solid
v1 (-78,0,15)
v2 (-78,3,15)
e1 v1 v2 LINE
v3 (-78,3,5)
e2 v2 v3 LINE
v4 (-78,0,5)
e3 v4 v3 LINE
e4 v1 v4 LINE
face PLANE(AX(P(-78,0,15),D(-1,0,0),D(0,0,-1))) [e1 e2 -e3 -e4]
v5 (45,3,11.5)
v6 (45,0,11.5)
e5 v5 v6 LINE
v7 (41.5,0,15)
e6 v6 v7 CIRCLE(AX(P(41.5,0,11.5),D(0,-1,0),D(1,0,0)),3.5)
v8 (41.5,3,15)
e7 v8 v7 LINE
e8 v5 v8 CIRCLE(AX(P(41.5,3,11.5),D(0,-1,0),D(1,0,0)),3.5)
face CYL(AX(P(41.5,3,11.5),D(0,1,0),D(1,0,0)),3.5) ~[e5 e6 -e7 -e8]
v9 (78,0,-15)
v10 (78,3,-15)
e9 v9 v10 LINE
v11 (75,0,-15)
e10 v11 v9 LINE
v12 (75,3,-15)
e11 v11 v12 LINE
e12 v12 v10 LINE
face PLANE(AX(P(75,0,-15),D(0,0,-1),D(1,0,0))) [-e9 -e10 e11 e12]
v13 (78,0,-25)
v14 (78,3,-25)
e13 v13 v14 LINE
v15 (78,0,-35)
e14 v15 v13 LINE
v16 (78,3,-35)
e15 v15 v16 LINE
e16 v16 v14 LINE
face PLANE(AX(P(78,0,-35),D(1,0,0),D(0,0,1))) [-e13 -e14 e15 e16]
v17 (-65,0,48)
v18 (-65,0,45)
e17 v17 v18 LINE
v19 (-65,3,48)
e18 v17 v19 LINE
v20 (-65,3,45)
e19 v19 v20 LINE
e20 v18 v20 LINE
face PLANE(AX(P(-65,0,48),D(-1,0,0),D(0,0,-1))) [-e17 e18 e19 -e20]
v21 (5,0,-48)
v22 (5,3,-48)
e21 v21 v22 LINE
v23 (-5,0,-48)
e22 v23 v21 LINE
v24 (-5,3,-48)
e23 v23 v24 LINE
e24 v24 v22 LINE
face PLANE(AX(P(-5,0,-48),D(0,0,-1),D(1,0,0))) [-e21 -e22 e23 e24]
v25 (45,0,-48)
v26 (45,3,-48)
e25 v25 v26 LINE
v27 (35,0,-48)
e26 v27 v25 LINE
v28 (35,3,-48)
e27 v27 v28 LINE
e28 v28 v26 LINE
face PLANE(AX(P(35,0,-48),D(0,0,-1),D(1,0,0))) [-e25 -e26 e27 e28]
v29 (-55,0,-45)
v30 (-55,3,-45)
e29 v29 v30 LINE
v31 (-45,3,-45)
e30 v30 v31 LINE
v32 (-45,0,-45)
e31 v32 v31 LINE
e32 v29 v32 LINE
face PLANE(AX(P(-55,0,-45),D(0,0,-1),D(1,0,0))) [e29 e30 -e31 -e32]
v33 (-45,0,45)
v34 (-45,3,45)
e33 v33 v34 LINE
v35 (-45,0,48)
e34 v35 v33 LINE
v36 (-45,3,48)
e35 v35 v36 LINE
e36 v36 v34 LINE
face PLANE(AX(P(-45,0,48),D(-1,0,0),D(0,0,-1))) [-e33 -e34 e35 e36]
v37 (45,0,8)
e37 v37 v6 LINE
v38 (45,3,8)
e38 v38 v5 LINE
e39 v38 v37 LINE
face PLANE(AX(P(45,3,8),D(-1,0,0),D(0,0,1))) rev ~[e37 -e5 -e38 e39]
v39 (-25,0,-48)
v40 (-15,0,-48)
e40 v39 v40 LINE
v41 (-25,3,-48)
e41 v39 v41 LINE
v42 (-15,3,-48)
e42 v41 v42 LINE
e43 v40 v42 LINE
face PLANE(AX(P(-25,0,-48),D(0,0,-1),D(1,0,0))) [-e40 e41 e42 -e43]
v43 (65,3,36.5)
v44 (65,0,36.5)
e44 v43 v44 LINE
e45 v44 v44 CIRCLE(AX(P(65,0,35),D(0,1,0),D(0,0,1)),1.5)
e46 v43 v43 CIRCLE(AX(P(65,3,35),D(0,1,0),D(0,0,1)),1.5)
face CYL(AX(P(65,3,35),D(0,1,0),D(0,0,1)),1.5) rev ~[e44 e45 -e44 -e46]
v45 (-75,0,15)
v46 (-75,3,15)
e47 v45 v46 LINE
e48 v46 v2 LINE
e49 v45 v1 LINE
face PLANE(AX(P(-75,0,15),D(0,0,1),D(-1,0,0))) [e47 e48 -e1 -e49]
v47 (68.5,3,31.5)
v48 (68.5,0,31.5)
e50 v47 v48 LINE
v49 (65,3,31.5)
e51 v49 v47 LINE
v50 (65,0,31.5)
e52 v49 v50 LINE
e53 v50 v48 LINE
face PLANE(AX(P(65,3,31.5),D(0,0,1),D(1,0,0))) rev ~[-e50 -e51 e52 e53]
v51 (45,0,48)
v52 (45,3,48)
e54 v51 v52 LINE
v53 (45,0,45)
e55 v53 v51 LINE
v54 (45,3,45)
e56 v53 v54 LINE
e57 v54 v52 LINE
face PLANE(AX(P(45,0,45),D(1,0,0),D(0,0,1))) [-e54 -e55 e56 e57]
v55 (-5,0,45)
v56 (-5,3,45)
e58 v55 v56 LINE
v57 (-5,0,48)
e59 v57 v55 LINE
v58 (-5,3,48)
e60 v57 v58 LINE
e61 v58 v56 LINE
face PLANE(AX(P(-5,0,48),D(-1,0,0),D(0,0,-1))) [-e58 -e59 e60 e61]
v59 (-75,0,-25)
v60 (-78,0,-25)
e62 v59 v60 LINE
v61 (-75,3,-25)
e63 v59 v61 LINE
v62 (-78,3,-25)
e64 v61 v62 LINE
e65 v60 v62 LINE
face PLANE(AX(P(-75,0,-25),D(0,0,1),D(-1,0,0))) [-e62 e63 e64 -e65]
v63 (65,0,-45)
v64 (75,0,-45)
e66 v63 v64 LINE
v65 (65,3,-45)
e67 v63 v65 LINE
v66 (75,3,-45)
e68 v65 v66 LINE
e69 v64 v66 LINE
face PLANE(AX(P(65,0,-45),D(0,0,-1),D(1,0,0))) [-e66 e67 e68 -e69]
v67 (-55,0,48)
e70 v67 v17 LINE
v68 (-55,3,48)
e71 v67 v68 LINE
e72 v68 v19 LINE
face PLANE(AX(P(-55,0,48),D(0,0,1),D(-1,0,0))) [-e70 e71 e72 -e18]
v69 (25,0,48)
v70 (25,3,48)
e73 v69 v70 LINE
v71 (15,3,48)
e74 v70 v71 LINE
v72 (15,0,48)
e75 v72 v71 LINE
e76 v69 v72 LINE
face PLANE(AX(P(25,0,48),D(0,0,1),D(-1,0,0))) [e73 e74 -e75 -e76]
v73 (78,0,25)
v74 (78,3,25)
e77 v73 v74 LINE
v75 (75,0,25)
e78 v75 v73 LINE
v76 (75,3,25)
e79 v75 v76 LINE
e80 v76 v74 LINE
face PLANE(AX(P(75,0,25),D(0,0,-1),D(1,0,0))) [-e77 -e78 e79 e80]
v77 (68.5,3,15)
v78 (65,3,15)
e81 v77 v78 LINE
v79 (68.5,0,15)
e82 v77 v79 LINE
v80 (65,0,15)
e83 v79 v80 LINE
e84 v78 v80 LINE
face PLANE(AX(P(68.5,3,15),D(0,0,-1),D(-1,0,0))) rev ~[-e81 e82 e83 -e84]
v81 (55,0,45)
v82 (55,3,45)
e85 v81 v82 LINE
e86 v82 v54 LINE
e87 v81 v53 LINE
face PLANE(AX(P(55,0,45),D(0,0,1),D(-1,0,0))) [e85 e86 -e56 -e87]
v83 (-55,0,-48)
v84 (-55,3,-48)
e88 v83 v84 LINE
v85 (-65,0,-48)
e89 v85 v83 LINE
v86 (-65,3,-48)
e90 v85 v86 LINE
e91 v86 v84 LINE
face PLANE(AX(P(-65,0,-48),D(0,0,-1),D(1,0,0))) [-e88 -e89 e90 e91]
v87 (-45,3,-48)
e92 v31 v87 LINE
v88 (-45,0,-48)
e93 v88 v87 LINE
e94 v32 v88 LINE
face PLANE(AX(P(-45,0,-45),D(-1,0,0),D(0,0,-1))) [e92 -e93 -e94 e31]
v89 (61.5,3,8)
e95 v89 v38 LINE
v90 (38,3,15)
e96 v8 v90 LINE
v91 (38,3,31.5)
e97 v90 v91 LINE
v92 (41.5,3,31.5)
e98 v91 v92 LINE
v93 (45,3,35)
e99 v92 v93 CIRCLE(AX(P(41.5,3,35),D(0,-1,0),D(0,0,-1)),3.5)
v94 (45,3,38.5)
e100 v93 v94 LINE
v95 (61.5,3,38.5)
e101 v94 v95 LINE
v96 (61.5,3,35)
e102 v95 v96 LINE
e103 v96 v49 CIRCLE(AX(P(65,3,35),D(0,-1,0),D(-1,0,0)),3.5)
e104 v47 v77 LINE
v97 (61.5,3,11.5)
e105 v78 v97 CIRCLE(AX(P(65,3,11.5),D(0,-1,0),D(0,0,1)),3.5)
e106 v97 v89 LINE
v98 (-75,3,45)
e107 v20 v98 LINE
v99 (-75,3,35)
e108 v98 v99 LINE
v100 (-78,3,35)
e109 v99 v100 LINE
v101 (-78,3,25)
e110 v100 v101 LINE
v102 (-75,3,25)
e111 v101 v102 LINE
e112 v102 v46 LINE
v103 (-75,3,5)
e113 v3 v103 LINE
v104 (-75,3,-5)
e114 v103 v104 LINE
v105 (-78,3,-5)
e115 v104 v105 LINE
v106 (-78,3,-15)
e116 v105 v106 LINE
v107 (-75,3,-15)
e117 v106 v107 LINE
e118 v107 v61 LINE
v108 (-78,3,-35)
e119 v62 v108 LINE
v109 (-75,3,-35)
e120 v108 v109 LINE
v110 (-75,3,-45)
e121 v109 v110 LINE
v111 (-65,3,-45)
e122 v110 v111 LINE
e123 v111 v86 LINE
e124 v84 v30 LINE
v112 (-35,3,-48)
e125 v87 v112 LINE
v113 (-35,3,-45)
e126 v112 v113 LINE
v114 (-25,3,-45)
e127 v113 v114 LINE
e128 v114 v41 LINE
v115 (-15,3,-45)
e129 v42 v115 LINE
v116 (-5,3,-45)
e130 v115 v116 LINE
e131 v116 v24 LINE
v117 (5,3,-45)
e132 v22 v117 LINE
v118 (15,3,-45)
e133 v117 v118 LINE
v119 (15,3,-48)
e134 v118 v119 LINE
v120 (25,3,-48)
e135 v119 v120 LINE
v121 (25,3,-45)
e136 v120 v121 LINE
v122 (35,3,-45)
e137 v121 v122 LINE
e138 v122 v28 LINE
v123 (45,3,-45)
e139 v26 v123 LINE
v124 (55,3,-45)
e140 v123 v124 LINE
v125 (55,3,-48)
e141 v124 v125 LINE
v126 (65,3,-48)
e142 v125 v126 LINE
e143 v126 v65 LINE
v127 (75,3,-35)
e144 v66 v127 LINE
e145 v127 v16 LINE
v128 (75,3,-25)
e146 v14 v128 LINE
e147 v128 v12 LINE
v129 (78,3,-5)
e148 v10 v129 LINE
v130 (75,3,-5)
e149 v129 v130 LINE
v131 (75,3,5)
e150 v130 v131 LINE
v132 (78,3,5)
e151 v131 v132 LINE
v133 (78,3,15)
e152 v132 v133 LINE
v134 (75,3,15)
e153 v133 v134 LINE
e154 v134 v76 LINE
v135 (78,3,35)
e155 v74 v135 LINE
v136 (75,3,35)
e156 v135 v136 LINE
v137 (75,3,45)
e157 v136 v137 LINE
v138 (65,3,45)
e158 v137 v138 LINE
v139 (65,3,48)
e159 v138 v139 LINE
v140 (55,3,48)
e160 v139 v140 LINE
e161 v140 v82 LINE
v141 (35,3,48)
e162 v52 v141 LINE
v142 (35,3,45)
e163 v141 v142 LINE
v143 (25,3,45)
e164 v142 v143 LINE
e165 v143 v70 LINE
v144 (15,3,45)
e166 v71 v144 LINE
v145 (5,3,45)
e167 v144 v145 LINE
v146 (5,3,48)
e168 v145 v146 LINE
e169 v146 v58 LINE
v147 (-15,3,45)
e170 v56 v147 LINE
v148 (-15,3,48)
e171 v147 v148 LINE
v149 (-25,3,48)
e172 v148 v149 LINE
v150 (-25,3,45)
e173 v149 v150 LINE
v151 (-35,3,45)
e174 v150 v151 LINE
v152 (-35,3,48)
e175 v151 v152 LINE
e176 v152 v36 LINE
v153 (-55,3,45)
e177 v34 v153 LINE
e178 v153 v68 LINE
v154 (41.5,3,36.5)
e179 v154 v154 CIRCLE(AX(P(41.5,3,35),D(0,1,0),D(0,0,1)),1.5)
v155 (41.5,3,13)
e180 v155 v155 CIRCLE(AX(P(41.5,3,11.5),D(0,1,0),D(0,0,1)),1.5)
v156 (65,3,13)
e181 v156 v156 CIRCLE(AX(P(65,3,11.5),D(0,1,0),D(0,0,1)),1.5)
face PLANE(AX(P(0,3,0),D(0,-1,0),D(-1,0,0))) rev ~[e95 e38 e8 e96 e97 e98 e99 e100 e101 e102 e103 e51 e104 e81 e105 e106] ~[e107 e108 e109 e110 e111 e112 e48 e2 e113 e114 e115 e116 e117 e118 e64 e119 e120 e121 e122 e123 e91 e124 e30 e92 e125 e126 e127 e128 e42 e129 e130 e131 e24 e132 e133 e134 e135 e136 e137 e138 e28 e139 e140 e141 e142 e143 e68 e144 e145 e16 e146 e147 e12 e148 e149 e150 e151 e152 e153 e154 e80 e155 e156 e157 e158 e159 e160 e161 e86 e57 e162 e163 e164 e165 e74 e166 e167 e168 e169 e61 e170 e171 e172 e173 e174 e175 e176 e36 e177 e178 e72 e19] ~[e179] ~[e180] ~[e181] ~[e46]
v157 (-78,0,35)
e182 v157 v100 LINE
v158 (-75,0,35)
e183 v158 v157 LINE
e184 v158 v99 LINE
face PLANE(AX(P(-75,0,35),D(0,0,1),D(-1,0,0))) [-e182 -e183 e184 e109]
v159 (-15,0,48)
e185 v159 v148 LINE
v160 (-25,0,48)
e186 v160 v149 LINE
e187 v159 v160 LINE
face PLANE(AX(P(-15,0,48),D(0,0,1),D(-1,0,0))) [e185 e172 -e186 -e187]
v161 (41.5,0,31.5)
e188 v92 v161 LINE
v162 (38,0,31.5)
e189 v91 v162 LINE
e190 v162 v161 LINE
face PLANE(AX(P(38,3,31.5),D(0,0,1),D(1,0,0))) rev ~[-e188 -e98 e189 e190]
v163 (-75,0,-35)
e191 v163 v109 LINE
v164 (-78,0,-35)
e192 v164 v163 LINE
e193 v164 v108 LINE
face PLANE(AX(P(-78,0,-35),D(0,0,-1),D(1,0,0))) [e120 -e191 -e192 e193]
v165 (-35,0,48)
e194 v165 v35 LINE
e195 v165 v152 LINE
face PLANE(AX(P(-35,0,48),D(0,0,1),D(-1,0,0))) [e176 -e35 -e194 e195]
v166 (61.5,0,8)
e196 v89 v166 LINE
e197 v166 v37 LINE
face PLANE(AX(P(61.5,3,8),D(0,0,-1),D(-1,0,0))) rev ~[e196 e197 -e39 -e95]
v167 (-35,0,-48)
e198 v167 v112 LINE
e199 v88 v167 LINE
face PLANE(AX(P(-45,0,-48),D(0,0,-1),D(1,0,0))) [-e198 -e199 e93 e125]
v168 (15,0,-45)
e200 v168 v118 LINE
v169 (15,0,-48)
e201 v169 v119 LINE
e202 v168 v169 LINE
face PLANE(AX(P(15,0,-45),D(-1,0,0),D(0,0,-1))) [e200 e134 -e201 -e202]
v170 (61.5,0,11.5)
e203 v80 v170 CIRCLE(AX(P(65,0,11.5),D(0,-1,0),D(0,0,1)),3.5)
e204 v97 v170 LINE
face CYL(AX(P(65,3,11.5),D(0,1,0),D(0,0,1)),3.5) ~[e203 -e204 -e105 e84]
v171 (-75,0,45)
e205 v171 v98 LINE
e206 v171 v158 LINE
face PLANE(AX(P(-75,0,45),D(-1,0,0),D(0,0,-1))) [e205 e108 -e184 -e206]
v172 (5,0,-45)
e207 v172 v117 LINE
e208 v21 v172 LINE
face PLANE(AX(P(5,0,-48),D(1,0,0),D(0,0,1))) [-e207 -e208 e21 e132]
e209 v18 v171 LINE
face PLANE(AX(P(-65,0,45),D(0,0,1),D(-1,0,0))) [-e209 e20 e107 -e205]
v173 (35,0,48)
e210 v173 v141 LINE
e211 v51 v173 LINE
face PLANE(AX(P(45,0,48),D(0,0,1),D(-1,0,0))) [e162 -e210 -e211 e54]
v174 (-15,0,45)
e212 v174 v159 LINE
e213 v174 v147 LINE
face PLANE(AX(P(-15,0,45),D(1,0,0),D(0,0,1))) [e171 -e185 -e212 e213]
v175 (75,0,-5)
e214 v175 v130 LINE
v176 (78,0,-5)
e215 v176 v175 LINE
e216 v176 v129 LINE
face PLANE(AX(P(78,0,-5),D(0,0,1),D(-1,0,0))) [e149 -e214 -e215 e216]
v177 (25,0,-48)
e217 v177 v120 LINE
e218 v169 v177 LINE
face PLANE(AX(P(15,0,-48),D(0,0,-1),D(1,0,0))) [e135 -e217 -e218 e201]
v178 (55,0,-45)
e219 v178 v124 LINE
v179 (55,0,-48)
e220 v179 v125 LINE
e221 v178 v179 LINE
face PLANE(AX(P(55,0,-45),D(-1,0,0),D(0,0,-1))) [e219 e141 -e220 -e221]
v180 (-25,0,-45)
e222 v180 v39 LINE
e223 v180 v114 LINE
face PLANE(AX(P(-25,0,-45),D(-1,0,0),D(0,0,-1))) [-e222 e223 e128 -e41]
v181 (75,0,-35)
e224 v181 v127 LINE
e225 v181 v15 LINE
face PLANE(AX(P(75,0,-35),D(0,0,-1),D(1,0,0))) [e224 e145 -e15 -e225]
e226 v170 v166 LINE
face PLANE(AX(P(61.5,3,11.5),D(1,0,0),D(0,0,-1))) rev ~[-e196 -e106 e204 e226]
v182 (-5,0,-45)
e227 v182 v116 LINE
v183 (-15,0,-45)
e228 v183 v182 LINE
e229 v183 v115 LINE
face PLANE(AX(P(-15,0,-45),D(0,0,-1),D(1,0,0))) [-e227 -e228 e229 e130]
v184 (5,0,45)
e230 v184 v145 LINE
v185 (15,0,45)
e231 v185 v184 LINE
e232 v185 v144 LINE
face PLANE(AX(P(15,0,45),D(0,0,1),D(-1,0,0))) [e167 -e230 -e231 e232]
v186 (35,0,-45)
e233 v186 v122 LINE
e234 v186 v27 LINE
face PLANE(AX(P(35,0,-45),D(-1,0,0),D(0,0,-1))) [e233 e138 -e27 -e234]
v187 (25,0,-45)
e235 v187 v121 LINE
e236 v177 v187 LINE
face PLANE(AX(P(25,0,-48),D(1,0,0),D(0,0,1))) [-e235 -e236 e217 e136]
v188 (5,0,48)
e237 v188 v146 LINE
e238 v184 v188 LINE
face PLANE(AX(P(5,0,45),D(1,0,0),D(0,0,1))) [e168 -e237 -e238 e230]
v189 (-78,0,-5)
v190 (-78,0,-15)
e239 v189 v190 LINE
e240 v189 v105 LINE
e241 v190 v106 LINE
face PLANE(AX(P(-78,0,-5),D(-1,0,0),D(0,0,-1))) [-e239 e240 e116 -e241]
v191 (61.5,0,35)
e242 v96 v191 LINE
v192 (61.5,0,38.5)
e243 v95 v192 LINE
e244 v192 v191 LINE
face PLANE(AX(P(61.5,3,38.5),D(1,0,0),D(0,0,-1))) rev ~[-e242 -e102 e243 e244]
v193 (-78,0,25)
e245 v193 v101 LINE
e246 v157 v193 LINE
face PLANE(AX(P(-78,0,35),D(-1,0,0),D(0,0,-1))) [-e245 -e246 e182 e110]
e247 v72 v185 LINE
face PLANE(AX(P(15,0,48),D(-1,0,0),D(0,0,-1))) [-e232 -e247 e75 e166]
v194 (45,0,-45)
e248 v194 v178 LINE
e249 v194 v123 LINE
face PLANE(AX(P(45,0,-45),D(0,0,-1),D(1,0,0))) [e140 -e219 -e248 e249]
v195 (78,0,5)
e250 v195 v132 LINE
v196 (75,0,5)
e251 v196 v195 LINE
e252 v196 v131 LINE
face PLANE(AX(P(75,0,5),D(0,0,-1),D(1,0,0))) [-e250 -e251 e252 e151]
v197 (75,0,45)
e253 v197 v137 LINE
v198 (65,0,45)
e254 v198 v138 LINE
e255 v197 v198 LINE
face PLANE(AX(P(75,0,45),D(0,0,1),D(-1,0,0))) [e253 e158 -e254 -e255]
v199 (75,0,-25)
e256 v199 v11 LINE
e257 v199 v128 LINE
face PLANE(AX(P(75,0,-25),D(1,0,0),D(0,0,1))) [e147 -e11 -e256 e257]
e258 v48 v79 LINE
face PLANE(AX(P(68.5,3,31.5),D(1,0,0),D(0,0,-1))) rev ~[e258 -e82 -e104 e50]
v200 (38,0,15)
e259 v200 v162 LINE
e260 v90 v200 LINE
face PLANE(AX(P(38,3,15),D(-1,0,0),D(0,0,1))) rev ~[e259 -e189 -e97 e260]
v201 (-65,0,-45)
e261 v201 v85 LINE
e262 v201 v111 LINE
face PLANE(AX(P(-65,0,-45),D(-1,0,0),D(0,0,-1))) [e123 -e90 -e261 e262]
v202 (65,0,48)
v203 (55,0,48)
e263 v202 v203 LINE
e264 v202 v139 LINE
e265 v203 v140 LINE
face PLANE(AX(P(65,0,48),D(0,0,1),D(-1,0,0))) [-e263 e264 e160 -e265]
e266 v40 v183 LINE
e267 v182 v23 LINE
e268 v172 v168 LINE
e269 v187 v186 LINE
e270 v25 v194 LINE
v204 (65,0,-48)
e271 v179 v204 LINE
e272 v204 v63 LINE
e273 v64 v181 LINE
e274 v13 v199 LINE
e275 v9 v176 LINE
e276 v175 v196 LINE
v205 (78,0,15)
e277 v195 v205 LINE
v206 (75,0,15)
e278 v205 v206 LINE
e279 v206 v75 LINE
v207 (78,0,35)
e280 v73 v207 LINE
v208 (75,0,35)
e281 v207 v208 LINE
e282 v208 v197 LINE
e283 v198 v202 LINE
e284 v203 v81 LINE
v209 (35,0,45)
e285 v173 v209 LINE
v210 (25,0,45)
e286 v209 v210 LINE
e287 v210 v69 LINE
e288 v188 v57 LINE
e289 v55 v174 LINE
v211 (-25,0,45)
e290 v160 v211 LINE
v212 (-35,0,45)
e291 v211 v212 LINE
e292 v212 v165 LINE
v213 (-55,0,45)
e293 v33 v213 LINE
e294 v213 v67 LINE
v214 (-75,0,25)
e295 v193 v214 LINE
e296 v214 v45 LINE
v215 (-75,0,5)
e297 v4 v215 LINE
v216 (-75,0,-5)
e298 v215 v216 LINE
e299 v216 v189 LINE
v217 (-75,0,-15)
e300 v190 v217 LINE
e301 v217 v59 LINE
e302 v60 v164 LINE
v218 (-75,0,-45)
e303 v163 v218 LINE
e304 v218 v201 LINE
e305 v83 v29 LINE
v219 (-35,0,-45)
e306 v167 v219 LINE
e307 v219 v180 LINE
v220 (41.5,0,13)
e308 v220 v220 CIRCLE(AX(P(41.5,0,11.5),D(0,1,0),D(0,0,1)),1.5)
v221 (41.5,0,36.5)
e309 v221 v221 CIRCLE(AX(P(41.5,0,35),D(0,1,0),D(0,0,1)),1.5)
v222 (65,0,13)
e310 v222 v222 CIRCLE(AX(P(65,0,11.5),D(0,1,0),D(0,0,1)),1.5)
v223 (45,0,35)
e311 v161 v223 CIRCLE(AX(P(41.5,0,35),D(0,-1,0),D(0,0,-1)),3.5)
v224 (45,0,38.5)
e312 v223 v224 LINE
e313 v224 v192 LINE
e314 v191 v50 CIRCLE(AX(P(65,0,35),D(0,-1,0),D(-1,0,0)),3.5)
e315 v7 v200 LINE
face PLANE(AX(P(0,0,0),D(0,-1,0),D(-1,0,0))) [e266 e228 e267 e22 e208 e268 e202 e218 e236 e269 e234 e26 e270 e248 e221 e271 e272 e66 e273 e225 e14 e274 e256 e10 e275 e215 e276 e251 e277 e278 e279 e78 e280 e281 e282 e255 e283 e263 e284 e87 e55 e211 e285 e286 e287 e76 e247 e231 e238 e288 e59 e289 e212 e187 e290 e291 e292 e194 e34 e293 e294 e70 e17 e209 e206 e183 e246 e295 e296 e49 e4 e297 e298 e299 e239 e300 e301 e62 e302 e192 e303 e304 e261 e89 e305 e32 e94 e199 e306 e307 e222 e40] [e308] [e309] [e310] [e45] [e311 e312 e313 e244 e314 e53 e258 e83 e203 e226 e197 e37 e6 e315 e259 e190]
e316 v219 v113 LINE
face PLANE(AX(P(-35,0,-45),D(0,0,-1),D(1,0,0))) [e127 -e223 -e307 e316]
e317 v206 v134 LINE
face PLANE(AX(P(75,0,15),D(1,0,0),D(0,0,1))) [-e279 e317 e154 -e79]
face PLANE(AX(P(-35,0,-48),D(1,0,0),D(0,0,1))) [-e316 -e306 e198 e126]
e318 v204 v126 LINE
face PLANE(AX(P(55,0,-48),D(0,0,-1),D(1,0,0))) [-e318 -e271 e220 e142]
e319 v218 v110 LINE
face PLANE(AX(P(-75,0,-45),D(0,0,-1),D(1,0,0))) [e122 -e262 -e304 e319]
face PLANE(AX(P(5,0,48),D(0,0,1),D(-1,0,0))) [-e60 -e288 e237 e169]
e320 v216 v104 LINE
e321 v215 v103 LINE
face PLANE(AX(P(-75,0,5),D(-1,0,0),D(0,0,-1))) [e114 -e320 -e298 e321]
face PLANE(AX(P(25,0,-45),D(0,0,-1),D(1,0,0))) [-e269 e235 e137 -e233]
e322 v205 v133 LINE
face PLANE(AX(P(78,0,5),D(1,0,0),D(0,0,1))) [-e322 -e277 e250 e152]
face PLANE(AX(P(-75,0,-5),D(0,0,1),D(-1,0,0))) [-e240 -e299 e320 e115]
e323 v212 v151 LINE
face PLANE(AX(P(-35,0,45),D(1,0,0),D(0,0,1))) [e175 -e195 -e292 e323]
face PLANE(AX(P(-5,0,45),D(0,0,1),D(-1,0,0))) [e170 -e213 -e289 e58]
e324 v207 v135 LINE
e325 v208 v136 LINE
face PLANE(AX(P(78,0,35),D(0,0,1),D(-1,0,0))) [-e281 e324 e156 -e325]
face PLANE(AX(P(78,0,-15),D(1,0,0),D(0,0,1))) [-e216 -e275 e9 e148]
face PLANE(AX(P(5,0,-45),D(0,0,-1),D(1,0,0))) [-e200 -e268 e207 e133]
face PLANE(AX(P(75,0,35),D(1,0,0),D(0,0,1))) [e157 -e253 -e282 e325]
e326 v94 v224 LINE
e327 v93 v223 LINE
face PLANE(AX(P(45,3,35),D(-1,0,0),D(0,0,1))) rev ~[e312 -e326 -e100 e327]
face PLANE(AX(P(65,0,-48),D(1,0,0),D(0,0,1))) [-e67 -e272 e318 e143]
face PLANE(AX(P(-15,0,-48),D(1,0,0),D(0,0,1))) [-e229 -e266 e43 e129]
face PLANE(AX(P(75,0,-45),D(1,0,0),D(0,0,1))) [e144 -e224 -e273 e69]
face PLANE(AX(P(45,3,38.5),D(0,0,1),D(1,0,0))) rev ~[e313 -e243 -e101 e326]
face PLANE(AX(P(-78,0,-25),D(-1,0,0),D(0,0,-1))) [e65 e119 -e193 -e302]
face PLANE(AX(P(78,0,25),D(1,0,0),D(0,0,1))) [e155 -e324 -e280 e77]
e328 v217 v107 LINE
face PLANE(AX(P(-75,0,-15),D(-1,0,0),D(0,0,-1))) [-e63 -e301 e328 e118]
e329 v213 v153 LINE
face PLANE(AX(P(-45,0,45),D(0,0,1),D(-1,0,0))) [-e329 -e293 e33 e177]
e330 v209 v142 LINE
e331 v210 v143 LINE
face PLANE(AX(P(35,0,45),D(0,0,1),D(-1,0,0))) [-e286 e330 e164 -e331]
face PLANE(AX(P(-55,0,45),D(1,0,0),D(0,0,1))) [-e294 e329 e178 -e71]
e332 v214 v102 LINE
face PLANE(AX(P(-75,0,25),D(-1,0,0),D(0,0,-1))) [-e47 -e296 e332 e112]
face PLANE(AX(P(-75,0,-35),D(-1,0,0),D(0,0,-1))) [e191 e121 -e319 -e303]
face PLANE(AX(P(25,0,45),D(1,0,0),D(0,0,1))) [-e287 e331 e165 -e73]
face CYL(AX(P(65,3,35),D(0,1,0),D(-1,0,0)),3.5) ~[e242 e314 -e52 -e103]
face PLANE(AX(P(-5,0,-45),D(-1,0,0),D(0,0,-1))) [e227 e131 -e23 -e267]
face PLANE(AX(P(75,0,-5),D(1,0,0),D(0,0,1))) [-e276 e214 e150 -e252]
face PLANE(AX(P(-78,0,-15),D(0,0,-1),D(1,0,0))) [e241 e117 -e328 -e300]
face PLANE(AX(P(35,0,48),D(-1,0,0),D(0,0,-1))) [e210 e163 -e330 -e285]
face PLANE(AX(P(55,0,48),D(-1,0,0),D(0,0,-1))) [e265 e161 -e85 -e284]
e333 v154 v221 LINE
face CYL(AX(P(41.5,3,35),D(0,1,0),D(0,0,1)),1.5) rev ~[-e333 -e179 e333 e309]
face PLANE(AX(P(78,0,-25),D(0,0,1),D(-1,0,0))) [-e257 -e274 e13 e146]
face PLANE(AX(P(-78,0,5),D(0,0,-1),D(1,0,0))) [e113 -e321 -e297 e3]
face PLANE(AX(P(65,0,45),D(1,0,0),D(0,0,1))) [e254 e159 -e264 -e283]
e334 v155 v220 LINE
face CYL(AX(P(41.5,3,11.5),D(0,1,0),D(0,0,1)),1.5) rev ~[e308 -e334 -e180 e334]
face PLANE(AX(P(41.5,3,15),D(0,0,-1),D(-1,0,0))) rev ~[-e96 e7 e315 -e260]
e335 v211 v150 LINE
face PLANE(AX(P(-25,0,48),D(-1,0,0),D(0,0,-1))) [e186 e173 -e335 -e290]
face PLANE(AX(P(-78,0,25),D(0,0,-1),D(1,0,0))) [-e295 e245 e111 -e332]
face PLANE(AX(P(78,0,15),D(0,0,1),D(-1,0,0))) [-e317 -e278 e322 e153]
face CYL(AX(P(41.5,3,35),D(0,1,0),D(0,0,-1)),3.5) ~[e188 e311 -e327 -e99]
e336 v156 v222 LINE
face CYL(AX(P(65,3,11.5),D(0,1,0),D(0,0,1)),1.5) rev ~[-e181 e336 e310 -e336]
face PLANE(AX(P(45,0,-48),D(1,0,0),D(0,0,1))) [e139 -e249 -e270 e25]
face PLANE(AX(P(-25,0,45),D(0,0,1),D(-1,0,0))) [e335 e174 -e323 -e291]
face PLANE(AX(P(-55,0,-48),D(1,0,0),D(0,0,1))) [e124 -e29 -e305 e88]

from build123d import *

# Parameters (mm, degrees)
BOSS_EXTRUDE1_DEPTH = 3
SKETCH3_R           = 1.5
CUT_EXTRUDE2_DEPTH  = 3
CUT_EXTRUDE3_DEPTH  = 3


with BuildPart() as part:
    # Sketch1 → Boss-Extrude1 (new body)
    with BuildSketch(Plane(origin=(0, 0, 0), x_dir=(1, 0, 0), z_dir=(0, 1, 0))):
        Polygon((-5, 48), (5, 48), (5, 45), (15, 45), (15, 48), (25, 48), (25, 45), (35, 45), (35, 48), (45, 48), (45, 45), (55, 45), (55, 48), (65, 48), (65, 45), (75, 45), (75, 35), (78, 35), (78, 25), (75, 25), (75, 15), (78, 15), (78, 5), (75, 5), (75, -5), (78, -5), (78, -15), (75, -15), (75, -25), (78, -25), (78, -35), (75, -35), (75, -45), (65, -45), (65, -48), (55, -48), (55, -45), (45, -45), (45, -48), (35, -48), (35, -45), (25, -45), (25, -48), (15, -48), (15, -45), (5, -45), (5, -48), (-5, -48), (-5, -45), (-15, -45), (-15, -48), (-25, -48), (-25, -45), (-35, -45), (-35, -48), (-45, -48), (-45, -45), (-55, -45), (-55, -48), (-65, -48), (-65, -45), (-75, -45), (-75, -35), (-78, -35), (-78, -25), (-75, -25), (-75, -15), (-78, -15), (-78, -5), (-75, -5), (-75, 5), (-78, 5), (-78, 15), (-75, 15), (-75, 25), (-78, 25), (-78, 35), (-75, 35), (-75, 45), (-65, 45), (-65, 48), (-55, 48), (-55, 45), (-45, 45), (-45, 48), (-35, 48), (-35, 45), (-25, 45), (-25, 48), (-15, 48), (-15, 45), (-5, 45), align=None)
    extrude(amount=BOSS_EXTRUDE1_DEPTH)

    # Sketch3 → Cut-Extrude2 (cut)
    with BuildSketch(Plane(origin=(0, 3, 0), x_dir=(1, 0, 0), z_dir=(0, 1, 0))):
        with Locations(Location((41.5, -11.5, 0), (0, 0, 270))):
            Circle(SKETCH3_R)
        with Locations(Location((65, -11.5, 0), (0, 0, 270))):
            Circle(SKETCH3_R)
        with Locations(Location((65, -35, 0), (0, 0, 270))):
            Circle(SKETCH3_R)
        with Locations(Location((41.5, -35, 0), (0, 0, 270))):
            Circle(SKETCH3_R)
    extrude(amount=-CUT_EXTRUDE2_DEPTH, mode=Mode.SUBTRACT)

    # Sketch4 → Cut-Extrude3 (cut)
    with BuildSketch(Plane(origin=(0, 3, 0), x_dir=(1, 0, 0), z_dir=(0, 1, 0))):
        with BuildLine():
            Line((45, -35), (45, -38.5))
            Line((45, -38.5), (61.5, -38.5))
            Line((61.5, -38.5), (61.5, -35))
            ThreePointArc((61.5, -35), (62.525126266, -32.525126266), (65, -31.5))
            Line((65, -31.5), (68.5, -31.5))
            Line((68.5, -31.5), (68.5, -15))
            Line((68.5, -15), (65, -15))
            ThreePointArc((65, -15), (62.525126266, -13.974873734), (61.5, -11.5))
            Line((61.5, -11.5), (61.5, -8))
            Line((61.5, -8), (45, -8))
            Line((45, -8), (45, -11.5))
            ThreePointArc((45, -11.5), (43.974873734, -13.974873734), (41.5, -15))
            Line((41.5, -15), (38, -15))
            Line((38, -15), (38, -31.5))
            Line((38, -31.5), (41.5, -31.5))
            ThreePointArc((41.5, -31.5), (43.974873734, -32.525126266), (45, -35))
        make_face()
    extrude(amount=-CUT_EXTRUDE3_DEPTH, mode=Mode.SUBTRACT)


solid = part.part
